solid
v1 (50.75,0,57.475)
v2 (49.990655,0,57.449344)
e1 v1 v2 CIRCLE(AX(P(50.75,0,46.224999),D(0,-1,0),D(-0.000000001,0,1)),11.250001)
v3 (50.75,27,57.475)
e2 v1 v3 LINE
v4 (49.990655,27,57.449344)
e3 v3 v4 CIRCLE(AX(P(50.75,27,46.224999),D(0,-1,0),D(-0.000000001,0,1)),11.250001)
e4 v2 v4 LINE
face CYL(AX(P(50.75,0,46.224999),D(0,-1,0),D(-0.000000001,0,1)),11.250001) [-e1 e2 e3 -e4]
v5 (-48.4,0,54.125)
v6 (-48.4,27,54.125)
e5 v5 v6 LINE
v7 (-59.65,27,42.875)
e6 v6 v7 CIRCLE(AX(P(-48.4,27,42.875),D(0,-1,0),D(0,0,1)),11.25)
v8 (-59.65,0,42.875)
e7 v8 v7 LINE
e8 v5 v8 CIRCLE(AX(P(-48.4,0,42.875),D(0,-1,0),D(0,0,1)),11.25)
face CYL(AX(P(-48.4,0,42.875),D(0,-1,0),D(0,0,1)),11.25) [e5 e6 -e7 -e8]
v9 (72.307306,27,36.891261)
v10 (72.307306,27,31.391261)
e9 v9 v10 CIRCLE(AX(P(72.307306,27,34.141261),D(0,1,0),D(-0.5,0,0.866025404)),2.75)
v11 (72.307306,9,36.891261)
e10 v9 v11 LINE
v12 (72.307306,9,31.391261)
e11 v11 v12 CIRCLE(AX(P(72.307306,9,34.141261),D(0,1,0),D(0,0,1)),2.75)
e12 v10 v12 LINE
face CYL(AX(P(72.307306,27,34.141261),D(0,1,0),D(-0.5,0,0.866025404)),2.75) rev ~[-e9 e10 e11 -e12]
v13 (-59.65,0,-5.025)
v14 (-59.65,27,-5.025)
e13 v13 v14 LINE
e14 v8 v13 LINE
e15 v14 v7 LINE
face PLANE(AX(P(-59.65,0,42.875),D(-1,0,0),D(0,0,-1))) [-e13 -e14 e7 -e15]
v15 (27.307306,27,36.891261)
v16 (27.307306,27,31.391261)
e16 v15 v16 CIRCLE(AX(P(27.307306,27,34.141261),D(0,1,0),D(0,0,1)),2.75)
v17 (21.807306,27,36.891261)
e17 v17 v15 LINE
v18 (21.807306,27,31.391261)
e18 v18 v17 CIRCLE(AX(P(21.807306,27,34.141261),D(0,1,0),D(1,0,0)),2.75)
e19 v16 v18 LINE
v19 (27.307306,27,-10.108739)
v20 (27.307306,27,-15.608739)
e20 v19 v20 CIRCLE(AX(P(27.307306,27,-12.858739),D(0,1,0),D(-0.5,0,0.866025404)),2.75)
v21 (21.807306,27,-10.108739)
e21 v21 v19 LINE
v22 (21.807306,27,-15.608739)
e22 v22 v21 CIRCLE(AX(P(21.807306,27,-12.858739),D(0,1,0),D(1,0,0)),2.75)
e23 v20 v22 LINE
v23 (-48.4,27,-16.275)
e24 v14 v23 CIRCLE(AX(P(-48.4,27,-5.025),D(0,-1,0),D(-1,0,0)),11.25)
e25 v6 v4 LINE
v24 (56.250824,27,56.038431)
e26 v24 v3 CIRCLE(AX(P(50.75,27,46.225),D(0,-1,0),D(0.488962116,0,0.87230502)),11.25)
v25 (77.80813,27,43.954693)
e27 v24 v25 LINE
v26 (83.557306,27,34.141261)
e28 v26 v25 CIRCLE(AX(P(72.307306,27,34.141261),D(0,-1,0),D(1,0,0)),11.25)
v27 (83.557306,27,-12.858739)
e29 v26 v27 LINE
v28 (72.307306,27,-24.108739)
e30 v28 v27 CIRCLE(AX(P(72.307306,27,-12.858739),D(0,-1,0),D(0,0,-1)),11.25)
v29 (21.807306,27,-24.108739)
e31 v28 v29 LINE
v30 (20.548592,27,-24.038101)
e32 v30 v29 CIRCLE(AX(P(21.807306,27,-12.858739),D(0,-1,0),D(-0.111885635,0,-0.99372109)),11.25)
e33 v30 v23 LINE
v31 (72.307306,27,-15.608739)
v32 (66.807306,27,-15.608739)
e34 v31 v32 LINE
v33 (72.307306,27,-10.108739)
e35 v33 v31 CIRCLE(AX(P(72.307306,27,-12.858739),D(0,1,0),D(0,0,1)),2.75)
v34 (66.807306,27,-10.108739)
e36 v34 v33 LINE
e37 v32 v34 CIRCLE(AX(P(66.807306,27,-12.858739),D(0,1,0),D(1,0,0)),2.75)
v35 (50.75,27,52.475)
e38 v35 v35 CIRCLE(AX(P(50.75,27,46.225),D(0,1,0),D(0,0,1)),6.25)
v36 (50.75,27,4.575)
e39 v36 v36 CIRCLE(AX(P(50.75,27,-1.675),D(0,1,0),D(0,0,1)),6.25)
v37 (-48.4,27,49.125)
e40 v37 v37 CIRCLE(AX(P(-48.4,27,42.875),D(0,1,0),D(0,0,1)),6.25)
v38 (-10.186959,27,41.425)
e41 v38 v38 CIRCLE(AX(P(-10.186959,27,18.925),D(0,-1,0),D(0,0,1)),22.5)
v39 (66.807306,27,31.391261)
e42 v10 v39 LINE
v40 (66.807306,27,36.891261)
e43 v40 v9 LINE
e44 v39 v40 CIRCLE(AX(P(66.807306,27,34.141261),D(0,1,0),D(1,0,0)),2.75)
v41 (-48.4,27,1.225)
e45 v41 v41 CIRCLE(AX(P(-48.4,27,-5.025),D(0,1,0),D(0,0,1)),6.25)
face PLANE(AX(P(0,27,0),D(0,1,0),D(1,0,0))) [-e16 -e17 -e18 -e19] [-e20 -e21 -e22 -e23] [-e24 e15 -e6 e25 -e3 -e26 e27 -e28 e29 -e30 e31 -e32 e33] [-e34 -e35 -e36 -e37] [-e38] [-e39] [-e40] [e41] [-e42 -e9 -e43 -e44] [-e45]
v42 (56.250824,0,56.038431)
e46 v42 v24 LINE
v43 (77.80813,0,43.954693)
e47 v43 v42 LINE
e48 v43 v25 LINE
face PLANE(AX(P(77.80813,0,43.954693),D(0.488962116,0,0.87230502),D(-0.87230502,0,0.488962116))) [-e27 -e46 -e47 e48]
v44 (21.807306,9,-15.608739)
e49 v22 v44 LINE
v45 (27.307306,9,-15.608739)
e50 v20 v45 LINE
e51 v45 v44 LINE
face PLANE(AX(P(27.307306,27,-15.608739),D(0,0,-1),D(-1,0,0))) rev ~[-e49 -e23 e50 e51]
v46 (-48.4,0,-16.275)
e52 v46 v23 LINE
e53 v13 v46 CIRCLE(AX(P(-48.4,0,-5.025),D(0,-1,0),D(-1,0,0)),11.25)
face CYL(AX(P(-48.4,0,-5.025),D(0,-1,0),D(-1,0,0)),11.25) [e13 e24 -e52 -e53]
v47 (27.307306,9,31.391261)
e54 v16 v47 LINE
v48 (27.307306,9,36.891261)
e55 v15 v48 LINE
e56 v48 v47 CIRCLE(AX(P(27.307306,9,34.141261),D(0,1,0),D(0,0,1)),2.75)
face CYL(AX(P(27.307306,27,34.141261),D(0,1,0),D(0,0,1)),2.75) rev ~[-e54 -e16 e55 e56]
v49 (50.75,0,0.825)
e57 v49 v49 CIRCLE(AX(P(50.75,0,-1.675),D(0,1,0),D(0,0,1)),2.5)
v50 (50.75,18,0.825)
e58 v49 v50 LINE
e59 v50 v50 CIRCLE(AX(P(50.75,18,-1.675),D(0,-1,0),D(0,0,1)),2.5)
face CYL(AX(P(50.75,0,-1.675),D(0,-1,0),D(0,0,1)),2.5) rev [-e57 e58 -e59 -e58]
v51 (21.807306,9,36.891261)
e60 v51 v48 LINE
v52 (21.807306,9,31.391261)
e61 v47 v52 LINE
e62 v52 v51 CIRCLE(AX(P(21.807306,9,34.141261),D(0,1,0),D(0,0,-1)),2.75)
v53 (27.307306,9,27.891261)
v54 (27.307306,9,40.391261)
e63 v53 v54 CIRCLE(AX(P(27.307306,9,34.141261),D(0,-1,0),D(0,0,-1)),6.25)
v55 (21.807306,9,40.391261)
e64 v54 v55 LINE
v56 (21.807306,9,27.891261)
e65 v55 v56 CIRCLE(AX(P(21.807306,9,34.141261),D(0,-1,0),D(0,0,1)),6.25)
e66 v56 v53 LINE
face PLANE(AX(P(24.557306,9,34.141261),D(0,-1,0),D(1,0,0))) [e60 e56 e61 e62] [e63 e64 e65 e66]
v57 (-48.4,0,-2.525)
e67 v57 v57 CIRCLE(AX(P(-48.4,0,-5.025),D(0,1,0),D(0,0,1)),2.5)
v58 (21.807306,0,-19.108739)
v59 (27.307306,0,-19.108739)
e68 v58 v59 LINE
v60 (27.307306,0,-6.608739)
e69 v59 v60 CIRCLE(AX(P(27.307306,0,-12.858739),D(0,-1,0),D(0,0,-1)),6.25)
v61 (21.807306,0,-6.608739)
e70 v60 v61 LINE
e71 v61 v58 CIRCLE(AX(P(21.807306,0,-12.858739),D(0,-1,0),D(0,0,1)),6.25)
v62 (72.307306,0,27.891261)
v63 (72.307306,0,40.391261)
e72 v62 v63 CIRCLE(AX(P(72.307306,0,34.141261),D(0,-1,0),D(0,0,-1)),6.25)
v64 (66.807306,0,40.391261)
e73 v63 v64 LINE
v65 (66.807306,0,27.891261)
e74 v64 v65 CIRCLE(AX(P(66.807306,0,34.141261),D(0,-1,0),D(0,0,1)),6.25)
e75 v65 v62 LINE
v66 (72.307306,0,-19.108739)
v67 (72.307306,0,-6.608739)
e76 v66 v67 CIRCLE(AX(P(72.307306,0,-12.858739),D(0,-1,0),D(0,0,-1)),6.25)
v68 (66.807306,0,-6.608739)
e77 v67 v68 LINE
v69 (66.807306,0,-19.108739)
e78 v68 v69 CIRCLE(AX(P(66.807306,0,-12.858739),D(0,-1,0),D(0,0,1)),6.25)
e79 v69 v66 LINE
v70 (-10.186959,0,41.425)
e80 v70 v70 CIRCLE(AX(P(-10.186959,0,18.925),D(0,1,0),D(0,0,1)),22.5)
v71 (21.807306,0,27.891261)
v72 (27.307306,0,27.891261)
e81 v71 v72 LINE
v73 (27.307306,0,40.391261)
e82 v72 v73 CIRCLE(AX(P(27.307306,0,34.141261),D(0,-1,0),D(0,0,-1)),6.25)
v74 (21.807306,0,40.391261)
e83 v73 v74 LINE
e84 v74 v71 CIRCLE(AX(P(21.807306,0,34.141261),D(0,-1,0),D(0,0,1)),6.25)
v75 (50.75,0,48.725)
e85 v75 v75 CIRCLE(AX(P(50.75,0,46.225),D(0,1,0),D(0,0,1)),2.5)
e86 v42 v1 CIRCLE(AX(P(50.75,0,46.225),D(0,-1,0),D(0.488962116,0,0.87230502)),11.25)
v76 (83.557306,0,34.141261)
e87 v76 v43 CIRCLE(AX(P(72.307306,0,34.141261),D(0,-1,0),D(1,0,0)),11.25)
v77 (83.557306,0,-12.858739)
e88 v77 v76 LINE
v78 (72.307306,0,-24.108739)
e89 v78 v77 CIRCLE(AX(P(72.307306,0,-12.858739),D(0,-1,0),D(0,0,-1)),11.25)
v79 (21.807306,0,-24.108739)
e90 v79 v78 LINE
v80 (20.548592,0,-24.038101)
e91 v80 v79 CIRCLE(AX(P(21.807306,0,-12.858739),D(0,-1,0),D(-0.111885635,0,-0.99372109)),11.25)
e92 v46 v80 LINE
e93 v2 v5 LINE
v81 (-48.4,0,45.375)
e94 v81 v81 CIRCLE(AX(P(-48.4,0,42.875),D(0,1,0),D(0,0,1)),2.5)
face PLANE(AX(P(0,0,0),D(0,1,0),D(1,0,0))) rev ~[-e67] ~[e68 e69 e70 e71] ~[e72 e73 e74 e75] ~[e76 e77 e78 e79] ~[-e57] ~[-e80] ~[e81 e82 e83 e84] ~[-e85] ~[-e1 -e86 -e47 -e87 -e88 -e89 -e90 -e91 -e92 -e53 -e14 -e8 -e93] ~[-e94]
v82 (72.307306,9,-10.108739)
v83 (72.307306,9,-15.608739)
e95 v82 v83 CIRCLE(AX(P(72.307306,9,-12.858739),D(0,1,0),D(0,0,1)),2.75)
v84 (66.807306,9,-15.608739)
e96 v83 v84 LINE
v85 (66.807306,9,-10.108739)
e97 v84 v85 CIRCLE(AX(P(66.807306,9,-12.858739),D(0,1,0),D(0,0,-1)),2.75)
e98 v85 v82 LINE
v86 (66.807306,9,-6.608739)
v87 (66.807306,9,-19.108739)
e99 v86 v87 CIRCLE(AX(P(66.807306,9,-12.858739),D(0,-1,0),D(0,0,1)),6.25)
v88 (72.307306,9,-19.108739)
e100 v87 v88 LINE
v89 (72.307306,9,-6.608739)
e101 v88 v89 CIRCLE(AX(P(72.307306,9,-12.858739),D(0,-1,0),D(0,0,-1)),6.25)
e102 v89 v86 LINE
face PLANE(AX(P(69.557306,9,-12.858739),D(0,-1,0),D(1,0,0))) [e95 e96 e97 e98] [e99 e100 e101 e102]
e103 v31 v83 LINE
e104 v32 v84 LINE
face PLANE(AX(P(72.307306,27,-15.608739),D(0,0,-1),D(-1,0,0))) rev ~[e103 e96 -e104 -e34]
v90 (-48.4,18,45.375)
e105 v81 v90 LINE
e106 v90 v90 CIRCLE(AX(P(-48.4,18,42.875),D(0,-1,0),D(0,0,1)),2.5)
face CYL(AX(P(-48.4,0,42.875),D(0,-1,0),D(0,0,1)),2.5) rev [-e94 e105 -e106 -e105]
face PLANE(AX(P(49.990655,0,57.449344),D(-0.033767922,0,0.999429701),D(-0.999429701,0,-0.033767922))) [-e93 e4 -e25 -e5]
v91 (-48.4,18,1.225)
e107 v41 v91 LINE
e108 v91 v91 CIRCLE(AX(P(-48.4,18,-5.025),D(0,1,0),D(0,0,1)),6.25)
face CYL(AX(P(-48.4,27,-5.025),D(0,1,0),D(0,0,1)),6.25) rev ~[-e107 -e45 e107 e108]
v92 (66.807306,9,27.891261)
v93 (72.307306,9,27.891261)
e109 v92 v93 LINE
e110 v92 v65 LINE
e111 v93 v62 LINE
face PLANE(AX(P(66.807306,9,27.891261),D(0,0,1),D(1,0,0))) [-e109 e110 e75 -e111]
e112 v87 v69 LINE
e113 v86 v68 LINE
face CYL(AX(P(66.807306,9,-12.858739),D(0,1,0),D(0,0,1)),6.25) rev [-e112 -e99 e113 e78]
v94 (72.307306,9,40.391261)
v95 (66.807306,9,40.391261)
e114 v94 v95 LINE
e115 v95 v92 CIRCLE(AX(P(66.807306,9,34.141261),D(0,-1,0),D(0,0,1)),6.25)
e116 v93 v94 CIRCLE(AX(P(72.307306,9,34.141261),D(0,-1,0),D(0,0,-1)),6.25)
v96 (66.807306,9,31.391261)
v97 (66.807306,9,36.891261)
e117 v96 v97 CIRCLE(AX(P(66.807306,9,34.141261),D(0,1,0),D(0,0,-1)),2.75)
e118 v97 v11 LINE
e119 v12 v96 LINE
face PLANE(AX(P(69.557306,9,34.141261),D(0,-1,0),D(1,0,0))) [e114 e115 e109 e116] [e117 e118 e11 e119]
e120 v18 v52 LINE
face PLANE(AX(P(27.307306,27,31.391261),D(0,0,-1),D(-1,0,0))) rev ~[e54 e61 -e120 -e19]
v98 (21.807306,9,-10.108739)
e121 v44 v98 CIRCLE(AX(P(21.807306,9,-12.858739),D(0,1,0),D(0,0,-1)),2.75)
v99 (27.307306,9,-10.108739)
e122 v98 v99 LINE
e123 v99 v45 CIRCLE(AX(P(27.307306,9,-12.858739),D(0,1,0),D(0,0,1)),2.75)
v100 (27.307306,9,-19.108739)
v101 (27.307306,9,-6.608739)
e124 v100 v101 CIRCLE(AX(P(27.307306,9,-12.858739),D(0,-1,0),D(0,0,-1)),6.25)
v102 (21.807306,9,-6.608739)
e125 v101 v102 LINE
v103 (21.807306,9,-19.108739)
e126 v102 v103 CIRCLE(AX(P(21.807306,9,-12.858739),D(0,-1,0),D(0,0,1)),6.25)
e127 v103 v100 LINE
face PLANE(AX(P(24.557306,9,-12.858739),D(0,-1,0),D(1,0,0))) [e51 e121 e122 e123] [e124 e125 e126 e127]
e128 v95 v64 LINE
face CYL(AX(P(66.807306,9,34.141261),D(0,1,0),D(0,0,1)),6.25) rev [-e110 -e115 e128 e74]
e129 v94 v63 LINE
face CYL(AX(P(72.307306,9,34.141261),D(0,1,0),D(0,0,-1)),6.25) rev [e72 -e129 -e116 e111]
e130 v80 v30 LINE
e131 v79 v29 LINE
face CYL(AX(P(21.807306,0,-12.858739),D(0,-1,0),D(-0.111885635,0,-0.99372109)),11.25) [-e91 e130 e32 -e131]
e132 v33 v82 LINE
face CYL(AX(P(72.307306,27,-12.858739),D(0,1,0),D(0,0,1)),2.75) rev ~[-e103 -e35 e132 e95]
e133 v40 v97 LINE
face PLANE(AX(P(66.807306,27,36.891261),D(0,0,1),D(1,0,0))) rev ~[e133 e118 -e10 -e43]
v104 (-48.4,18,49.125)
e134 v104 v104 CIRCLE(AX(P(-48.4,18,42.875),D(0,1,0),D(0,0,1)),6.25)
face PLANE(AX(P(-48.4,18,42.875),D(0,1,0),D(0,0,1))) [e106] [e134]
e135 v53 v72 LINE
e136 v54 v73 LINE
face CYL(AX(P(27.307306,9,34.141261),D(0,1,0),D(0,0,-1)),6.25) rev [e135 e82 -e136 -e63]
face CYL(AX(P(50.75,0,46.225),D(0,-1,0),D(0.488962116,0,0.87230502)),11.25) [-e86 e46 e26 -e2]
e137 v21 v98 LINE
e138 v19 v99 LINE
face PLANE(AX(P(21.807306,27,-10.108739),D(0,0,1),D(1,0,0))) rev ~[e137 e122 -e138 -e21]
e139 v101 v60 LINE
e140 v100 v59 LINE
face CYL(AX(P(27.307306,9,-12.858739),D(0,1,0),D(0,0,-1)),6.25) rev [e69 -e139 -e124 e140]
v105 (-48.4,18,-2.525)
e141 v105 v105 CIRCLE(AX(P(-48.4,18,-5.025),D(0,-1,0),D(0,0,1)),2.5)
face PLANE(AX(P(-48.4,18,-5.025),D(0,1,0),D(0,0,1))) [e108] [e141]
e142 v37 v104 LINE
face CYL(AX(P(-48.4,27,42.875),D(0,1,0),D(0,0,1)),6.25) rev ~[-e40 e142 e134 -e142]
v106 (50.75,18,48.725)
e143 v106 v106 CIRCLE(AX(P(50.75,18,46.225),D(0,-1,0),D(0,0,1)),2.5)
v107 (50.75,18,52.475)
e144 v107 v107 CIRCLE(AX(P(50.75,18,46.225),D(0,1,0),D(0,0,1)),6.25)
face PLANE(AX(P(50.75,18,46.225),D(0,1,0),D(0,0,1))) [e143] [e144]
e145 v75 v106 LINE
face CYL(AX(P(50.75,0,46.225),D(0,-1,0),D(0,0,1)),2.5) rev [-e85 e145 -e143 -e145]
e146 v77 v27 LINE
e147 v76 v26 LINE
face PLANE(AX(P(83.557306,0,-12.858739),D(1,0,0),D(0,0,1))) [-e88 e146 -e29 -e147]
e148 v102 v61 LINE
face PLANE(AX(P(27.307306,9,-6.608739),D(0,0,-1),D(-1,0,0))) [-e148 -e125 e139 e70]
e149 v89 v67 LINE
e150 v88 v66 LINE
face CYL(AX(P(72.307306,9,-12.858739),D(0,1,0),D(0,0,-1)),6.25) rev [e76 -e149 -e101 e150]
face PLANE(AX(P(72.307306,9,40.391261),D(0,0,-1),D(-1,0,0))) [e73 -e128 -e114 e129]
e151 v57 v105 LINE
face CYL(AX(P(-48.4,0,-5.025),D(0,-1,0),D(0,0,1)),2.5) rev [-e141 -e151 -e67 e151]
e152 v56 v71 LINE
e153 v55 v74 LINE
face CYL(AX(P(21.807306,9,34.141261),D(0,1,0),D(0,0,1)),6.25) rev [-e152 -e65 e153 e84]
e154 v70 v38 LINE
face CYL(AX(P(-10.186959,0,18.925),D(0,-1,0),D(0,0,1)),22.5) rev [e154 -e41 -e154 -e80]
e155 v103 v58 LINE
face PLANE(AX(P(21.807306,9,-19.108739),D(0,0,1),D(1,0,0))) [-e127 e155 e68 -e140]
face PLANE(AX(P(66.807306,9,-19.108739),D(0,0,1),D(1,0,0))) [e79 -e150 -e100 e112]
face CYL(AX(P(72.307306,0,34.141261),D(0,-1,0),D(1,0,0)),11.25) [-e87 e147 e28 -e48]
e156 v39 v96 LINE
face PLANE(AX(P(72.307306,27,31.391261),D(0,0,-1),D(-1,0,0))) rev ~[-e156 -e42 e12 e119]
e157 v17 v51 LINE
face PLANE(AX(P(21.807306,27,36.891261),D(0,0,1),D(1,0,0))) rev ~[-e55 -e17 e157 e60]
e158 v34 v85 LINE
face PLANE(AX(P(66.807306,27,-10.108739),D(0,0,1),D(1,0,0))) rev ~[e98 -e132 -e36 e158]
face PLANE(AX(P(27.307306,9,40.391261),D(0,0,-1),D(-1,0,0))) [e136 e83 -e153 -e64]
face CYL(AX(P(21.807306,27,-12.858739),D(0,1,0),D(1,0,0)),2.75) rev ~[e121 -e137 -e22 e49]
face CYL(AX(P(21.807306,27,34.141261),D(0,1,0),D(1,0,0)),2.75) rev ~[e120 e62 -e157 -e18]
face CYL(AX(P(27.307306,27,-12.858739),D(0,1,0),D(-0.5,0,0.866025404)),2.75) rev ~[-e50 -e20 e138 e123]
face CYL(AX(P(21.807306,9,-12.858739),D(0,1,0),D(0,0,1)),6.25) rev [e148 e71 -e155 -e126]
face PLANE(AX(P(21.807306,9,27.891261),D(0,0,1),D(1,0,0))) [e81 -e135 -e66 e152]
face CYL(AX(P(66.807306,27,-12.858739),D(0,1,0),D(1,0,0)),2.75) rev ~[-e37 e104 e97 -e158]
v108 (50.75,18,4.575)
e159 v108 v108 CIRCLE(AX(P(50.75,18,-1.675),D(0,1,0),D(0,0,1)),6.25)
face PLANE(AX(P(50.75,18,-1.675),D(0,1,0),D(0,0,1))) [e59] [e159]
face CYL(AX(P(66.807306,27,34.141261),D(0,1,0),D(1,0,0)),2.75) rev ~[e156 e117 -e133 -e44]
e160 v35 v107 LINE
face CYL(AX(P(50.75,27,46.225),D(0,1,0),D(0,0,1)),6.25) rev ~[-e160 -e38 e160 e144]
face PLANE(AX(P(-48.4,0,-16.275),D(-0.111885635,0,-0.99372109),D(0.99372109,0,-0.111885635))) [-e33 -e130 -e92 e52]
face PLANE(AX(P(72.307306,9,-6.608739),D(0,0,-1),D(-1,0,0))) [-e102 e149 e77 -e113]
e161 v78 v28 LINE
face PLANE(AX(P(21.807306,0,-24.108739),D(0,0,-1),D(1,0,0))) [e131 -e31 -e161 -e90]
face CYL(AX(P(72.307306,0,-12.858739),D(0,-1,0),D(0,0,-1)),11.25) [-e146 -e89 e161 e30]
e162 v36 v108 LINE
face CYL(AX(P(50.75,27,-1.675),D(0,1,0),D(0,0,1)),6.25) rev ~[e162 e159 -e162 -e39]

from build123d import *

# Parameters (mm, degrees)
SKETCH1_W           = 150.5
SKETCH1_H           = 110.25
SKETCH1_R           = 2.5
BOSS_EXTRUDE1_DEPTH = 27
SKETCH3_W           = 300
SKETCH3_H           = 200
SKETCH3_W_2         = 150.5
SKETCH3_H_2         = 110.25
BOSS_EXTRUDE2_DEPTH = 27
SKETCH4_R           = 6.25
CUT_EXTRUDE2_DEPTH  = 9
SKETCH5_R           = 2.75
CUT_EXTRUDE3_DEPTH  = 183.288233301
CUT_EXTRUDE4_START  = -9
CUT_EXTRUDE4_DEPTH  = 9
SKETCH7_W           = 300
SKETCH7_H           = 200
SKETCH7_R           = 22.5
CUT_EXTRUDE5_DEPTH  = 183.288233301


with BuildPart() as part:
    # Sketch1 → Boss-Extrude1 (new body)
    with BuildSketch(Plane(origin=(0, 0, 0), x_dir=(1, 0, 0), z_dir=(0, 1, 0))):
        Rectangle(SKETCH1_W, SKETCH1_H)
        with Locations(Location((-48.4, -42.875, 0), (0, 0, 270))):
            Circle(SKETCH1_R, mode=Mode.SUBTRACT)
        with Locations(Location((50.75, -46.225, 0), (0, 0, 270))):
            Circle(SKETCH1_R, mode=Mode.SUBTRACT)
        with Locations(Location((-48.4, 5.025, 0), (0, 0, 270))):
            Circle(SKETCH1_R, mode=Mode.SUBTRACT)
        with Locations(Location((50.75, 1.675, 0), (0, 0, 270))):
            Circle(SKETCH1_R, mode=Mode.SUBTRACT)
    extrude(amount=BOSS_EXTRUDE1_DEPTH)

    # Sketch3 → Boss-Extrude2 (add)
    with BuildSketch(Plane(origin=(0, 0, 0), x_dir=(1, 0, 0), z_dir=(0, 1, 0))):
        Rectangle(SKETCH3_W, SKETCH3_H)
        Rectangle(SKETCH3_W_2, SKETCH3_H_2, mode=Mode.SUBTRACT)
    extrude(amount=BOSS_EXTRUDE2_DEPTH)

    # Sketch4 → Cut-Extrude2 (cut)
    with BuildSketch(Plane(origin=(0, 27, 0), x_dir=(1, 0, 0), z_dir=(0, 1, 0))):
        with Locations(Location((-48.4, 5.025, 0), (0, 0, 270))):
            Circle(SKETCH4_R)
        with Locations(Location((-48.4, -42.875, 0), (0, 0, 270))):
            Circle(SKETCH4_R)
        with Locations(Location((50.75, -46.225, 0), (0, 0, 270))):
            Circle(SKETCH4_R)
        with Locations(Location((50.75, 1.675, 0), (0, 0, 270))):
            Circle(SKETCH4_R)
    extrude(amount=-CUT_EXTRUDE2_DEPTH, mode=Mode.SUBTRACT)

    # Sketch5 → Cut-Extrude3 (cut, through all)
    with BuildSketch(Plane(origin=(0, 27, 0), x_dir=(1, 0, 0), z_dir=(0, 1, 0))):
        with Locations((21.807305742, 12.85873859)):
            Circle(SKETCH5_R)
        with Locations((24.557305742, 12.85873859)):
            Circle(SKETCH5_R)
        with Locations((27.307305742, 12.85873859)):
            Circle(SKETCH5_R)
        with BuildLine():
            Line((27.307305742, 15.60873859), (24.557305742, 15.60873859))
            ThreePointArc((24.557305742, 15.60873859), (25.269058116, 15.515034613), (25.932305742, 15.240308451))
            ThreePointArc((25.932305742, 15.240308451), (26.595553368, 15.515034613), (27.307305742, 15.60873859))
        make_face()
        with BuildLine():
            Line((24.557305742, 15.60873859), (21.807305742, 15.60873859))
            ThreePointArc((21.807305742, 15.60873859), (22.519058116, 15.515034613), (23.182305742, 15.240308451))
            ThreePointArc((23.182305742, 15.240308451), (23.845553368, 15.515034613), (24.557305742, 15.60873859))
        make_face()
        with BuildLine():
            ThreePointArc((23.182305742, 10.47716873), (22.519058116, 10.202442568), (21.807305742, 10.10873859))
            Line((21.807305742, 10.10873859), (24.557305742, 10.10873859))
            ThreePointArc((24.557305742, 10.10873859), (23.845553368, 10.202442568), (23.182305742, 10.47716873))
        make_face()
        with BuildLine():
            ThreePointArc((25.932305742, 10.47716873), (25.269058116, 10.202442568), (24.557305742, 10.10873859))
            Line((24.557305742, 10.10873859), (27.307305742, 10.10873859))
            ThreePointArc((27.307305742, 10.10873859), (26.595553368, 10.202442568), (25.932305742, 10.47716873))
        make_face()
        with Locations((69.557305742, 12.85873859)):
            Circle(SKETCH5_R)
        with Locations((66.807305742, 12.85873859)):
            Circle(SKETCH5_R)
        with Locations((72.307305742, 12.85873859)):
            Circle(SKETCH5_R)
        with BuildLine():
            Line((69.557305742, 15.60873859), (66.807305742, 15.60873859))
            ThreePointArc((66.807305742, 15.60873859), (67.519058116, 15.515034613), (68.182305742, 15.240308451))
            ThreePointArc((68.182305742, 15.240308451), (68.845553368, 15.515034613), (69.557305742, 15.60873859))
        make_face()
        with BuildLine():
            ThreePointArc((70.932305742, 15.240308451), (71.595553368, 15.515034613), (72.307305742, 15.60873859))
            Line((72.307305742, 15.60873859), (69.557305742, 15.60873859))
            ThreePointArc((69.557305742, 15.60873859), (70.269058116, 15.515034613), (70.932305742, 15.240308451))
        make_face()
        with BuildLine():
            Line((66.807305742, 10.10873859), (69.557305742, 10.10873859))
            ThreePointArc((69.557305742, 10.10873859), (68.845553368, 10.202442568), (68.182305742, 10.47716873))
            ThreePointArc((68.182305742, 10.47716873), (67.519058116, 10.202442568), (66.807305742, 10.10873859))
        make_face()
        with BuildLine():
            Line((69.557305742, 10.10873859), (72.307305742, 10.10873859))
            ThreePointArc((72.307305742, 10.10873859), (71.595553368, 10.202442568), (70.932305742, 10.47716873))
            ThreePointArc((70.932305742, 10.47716873), (70.269058116, 10.202442568), (69.557305742, 10.10873859))
        make_face()
        with Locations((66.807305742, -34.14126141)):
            Circle(SKETCH5_R)
        with Locations((69.557305742, -34.14126141)):
            Circle(SKETCH5_R)
        with Locations((72.307305742, -34.14126141)):
            Circle(SKETCH5_R)
        with BuildLine():
            ThreePointArc((70.932305742, -31.759691549), (71.595553368, -31.484965387), (72.307305742, -31.39126141))
            Line((72.307305742, -31.39126141), (69.557305742, -31.39126141))
            ThreePointArc((69.557305742, -31.39126141), (70.269058116, -31.484965387), (70.932305742, -31.759691549))
        make_face()
        with BuildLine():
            Line((69.557305742, -31.39126141), (66.807305742, -31.39126141))
            ThreePointArc((66.807305742, -31.39126141), (67.519058116, -31.484965387), (68.182305742, -31.759691549))
            ThreePointArc((68.182305742, -31.759691549), (68.845553368, -31.484965387), (69.557305742, -31.39126141))
        make_face()
        with BuildLine():
            Line((69.557305801, -36.89126141), (72.307305742, -36.89126141))
            ThreePointArc((72.307305742, -36.89126141), (71.595553368, -36.797557432), (70.932305742, -36.52283127))
            ThreePointArc((70.932305742, -36.52283127), (70.269058145, -36.797557424), (69.557305801, -36.89126141))
        make_face()
        with BuildLine():
            Line((66.807305742, -36.89126141), (69.557305801, -36.89126141))
            ThreePointArc((69.557305801, -36.89126141), (68.845553397, -36.79755744), (68.182305742, -36.52283127))
            ThreePointArc((68.182305742, -36.52283127), (67.519058116, -36.797557432), (66.807305742, -36.89126141))
        make_face()
        with Locations((21.807305742, -34.14126141)):
            Circle(SKETCH5_R)
        with Locations((24.557305742, -34.14126141)):
            Circle(SKETCH5_R)
        with Locations((27.307305742, -34.14126141)):
            Circle(SKETCH5_R)
        with BuildLine():
            Line((24.557305824, -31.39126141), (21.807305742, -31.39126141))
            ThreePointArc((21.807305742, -31.39126141), (22.519058116, -31.484965387), (23.182305742, -31.759691549))
            ThreePointArc((23.182305742, -31.759691549), (23.845553407, -31.484965377), (24.557305824, -31.39126141))
        make_face()
        with BuildLine():
            Line((27.307305742, -31.39126141), (24.557305824, -31.39126141))
            ThreePointArc((24.557305824, -31.39126141), (25.269058156, -31.484965398), (25.932305742, -31.759691549))
            ThreePointArc((25.932305742, -31.759691549), (26.595553368, -31.484965387), (27.307305742, -31.39126141))
        make_face()
        with BuildLine():
            ThreePointArc((25.932305742, -36.52283127), (25.269058116, -36.797557432), (24.557305742, -36.89126141))
            Line((24.557305742, -36.89126141), (27.307305742, -36.89126141))
            ThreePointArc((27.307305742, -36.89126141), (26.595553368, -36.797557432), (25.932305742, -36.52283127))
        make_face()
        with BuildLine():
            ThreePointArc((23.182305742, -36.52283127), (22.519058116, -36.797557432), (21.807305742, -36.89126141))
            Line((21.807305742, -36.89126141), (24.557305742, -36.89126141))
            ThreePointArc((24.557305742, -36.89126141), (23.845553368, -36.797557432), (23.182305742, -36.52283127))
        make_face()
    extrude(amount=-CUT_EXTRUDE3_DEPTH, mode=Mode.SUBTRACT)

    # Sketch6 → Cut-Extrude4 (cut)
    # profile 1 of 4: a face of its own
    with BuildSketch(Plane.XZ.offset(CUT_EXTRUDE4_START)):
        with BuildLine():
            ThreePointArc((21.807305742, 40.39126141), (15.557305742, 34.14126141), (21.807305742, 27.89126141))
            Line((21.807305742, 27.89126141), (27.307305742, 27.89126141))
            ThreePointArc((27.307305742, 27.89126141), (33.557305742, 34.14126141), (27.307305742, 40.39126141))
            Line((27.307305742, 40.39126141), (21.807305742, 40.39126141))
        make_face()
        with BuildLine():
            Line((21.807305742, 36.89126141), (27.307305742, 36.89126141))
            ThreePointArc((27.307305742, 36.89126141), (30.057305742, 34.14126141), (27.307305742, 31.39126141))
            Line((27.307305742, 31.39126141), (21.807305742, 31.39126141))
            ThreePointArc((21.807305742, 31.39126141), (19.057305742, 34.14126141), (21.807305742, 36.89126141))
        make_face(mode=Mode.SUBTRACT)
    # profile 2 of 4: a face of its own
    with BuildSketch(Plane.XZ.offset(CUT_EXTRUDE4_START)):
        with BuildLine():
            ThreePointArc((72.307305742, 27.89126141), (78.557305742, 34.14126141), (72.307305742, 40.39126141))
            Line((72.307305742, 40.39126141), (66.807305742, 40.39126141))
            ThreePointArc((66.807305742, 40.39126141), (60.557305742, 34.14126141), (66.807305742, 27.89126141))
            Line((66.807305742, 27.89126141), (72.307305742, 27.89126141))
        make_face()
        with BuildLine():
            Line((72.307305742, 31.39126141), (66.807305742, 31.39126141))
            ThreePointArc((66.807305742, 31.39126141), (64.057305742, 34.14126141), (66.807305742, 36.89126141))
            Line((66.807305742, 36.89126141), (72.307305742, 36.89126141))
            ThreePointArc((72.307305742, 36.89126141), (75.057305742, 34.14126141), (72.307305742, 31.39126141))
        make_face(mode=Mode.SUBTRACT)
    # profile 3 of 4: a face of its own
    with BuildSketch(Plane.XZ.offset(CUT_EXTRUDE4_START)):
        with BuildLine():
            ThreePointArc((72.307305742, -19.10873859), (78.557305742, -12.85873859), (72.307305742, -6.60873859))
            Line((72.307305742, -6.60873859), (66.807305742, -6.60873859))
            ThreePointArc((66.807305742, -6.60873859), (60.557305742, -12.85873859), (66.807305742, -19.10873859))
            Line((66.807305742, -19.10873859), (72.307305742, -19.10873859))
        make_face()
        with BuildLine():
            Line((72.307305742, -15.60873859), (66.807305742, -15.60873859))
            ThreePointArc((66.807305742, -15.60873859), (64.057305742, -12.85873859), (66.807305742, -10.10873859))
            Line((66.807305742, -10.10873859), (72.307305742, -10.10873859))
            ThreePointArc((72.307305742, -10.10873859), (75.057305742, -12.85873859), (72.307305742, -15.60873859))
        make_face(mode=Mode.SUBTRACT)
    # profile 4 of 4: a face of its own
    with BuildSketch(Plane.XZ.offset(CUT_EXTRUDE4_START)):
        with BuildLine():
            ThreePointArc((21.807305742, -6.60873859), (15.557305742, -12.85873859), (21.807305742, -19.10873859))
            Line((21.807305742, -19.10873859), (27.307305742, -19.10873859))
            ThreePointArc((27.307305742, -19.10873859), (33.557305742, -12.85873859), (27.307305742, -6.60873859))
            Line((27.307305742, -6.60873859), (21.807305742, -6.60873859))
        make_face()
        with BuildLine():
            Line((21.807305742, -10.10873859), (27.307305742, -10.10873859))
            ThreePointArc((27.307305742, -10.10873859), (30.057305742, -12.85873859), (27.307305742, -15.60873859))
            Line((27.307305742, -15.60873859), (21.807305742, -15.60873859))
            ThreePointArc((21.807305742, -15.60873859), (19.057305742, -12.85873859), (21.807305742, -10.10873859))
        make_face(mode=Mode.SUBTRACT)
    extrude(amount=CUT_EXTRUDE4_DEPTH, mode=Mode.SUBTRACT)

    # Sketch7 → Cut-Extrude5 (cut, through all)
    # profile 1 of 2: a face of its own
    with BuildSketch(Plane(origin=(0, 0, 0), x_dir=(1, 0, 0), z_dir=(0, 1, 0))):
        Rectangle(SKETCH7_W, SKETCH7_H)
        with BuildLine():
            Line((-59.65, -42.875), (-59.65, 5.025))
            ThreePointArc((-59.65, 5.025), (-56.354951288, 12.979951288), (-48.4, 16.275))
            Line((-48.4, 16.275), (20.548592348, 24.038100853))
            ThreePointArc((20.548592348, 24.038100853), (21.176958794, 24.091065274), (21.807305742, 24.10873859))
            Line((21.807305742, 24.10873859), (72.307305742, 24.10873859))
            ThreePointArc((72.307305742, 24.10873859), (80.26225703, 20.813689879), (83.557305742, 12.85873859))
            Line((83.557305742, 12.85873859), (83.557305742, -34.14126141))
            ThreePointArc((83.557305742, -34.14126141), (82.014178767, -39.828010575), (77.808129551, -43.95469289))
            Line((77.808129551, -43.95469289), (56.250823809, -56.03843148))
            ThreePointArc((56.250823809, -56.03843148), (53.592656842, -57.109934638), (50.75, -57.475))
            ThreePointArc((50.75, -57.475), (50.370110874, -57.468584137), (49.990655048, -57.449343867))
            Line((49.990655048, -57.449343867), (-48.4, -54.125))
            ThreePointArc((-48.4, -54.125), (-56.354951288, -50.829951288), (-59.65, -42.875))
        make_face(mode=Mode.SUBTRACT)
    # profile 2 of 2: a face of its own
    with BuildSketch(Plane(origin=(0, 0, 0), x_dir=(1, 0, 0), z_dir=(0, 1, 0))):
        with Locations(Location((-10.18695891, -18.925, 0), (0, 0, 270))):
            Circle(SKETCH7_R)
    extrude(amount=CUT_EXTRUDE5_DEPTH, mode=Mode.SUBTRACT)


solid = part.part
